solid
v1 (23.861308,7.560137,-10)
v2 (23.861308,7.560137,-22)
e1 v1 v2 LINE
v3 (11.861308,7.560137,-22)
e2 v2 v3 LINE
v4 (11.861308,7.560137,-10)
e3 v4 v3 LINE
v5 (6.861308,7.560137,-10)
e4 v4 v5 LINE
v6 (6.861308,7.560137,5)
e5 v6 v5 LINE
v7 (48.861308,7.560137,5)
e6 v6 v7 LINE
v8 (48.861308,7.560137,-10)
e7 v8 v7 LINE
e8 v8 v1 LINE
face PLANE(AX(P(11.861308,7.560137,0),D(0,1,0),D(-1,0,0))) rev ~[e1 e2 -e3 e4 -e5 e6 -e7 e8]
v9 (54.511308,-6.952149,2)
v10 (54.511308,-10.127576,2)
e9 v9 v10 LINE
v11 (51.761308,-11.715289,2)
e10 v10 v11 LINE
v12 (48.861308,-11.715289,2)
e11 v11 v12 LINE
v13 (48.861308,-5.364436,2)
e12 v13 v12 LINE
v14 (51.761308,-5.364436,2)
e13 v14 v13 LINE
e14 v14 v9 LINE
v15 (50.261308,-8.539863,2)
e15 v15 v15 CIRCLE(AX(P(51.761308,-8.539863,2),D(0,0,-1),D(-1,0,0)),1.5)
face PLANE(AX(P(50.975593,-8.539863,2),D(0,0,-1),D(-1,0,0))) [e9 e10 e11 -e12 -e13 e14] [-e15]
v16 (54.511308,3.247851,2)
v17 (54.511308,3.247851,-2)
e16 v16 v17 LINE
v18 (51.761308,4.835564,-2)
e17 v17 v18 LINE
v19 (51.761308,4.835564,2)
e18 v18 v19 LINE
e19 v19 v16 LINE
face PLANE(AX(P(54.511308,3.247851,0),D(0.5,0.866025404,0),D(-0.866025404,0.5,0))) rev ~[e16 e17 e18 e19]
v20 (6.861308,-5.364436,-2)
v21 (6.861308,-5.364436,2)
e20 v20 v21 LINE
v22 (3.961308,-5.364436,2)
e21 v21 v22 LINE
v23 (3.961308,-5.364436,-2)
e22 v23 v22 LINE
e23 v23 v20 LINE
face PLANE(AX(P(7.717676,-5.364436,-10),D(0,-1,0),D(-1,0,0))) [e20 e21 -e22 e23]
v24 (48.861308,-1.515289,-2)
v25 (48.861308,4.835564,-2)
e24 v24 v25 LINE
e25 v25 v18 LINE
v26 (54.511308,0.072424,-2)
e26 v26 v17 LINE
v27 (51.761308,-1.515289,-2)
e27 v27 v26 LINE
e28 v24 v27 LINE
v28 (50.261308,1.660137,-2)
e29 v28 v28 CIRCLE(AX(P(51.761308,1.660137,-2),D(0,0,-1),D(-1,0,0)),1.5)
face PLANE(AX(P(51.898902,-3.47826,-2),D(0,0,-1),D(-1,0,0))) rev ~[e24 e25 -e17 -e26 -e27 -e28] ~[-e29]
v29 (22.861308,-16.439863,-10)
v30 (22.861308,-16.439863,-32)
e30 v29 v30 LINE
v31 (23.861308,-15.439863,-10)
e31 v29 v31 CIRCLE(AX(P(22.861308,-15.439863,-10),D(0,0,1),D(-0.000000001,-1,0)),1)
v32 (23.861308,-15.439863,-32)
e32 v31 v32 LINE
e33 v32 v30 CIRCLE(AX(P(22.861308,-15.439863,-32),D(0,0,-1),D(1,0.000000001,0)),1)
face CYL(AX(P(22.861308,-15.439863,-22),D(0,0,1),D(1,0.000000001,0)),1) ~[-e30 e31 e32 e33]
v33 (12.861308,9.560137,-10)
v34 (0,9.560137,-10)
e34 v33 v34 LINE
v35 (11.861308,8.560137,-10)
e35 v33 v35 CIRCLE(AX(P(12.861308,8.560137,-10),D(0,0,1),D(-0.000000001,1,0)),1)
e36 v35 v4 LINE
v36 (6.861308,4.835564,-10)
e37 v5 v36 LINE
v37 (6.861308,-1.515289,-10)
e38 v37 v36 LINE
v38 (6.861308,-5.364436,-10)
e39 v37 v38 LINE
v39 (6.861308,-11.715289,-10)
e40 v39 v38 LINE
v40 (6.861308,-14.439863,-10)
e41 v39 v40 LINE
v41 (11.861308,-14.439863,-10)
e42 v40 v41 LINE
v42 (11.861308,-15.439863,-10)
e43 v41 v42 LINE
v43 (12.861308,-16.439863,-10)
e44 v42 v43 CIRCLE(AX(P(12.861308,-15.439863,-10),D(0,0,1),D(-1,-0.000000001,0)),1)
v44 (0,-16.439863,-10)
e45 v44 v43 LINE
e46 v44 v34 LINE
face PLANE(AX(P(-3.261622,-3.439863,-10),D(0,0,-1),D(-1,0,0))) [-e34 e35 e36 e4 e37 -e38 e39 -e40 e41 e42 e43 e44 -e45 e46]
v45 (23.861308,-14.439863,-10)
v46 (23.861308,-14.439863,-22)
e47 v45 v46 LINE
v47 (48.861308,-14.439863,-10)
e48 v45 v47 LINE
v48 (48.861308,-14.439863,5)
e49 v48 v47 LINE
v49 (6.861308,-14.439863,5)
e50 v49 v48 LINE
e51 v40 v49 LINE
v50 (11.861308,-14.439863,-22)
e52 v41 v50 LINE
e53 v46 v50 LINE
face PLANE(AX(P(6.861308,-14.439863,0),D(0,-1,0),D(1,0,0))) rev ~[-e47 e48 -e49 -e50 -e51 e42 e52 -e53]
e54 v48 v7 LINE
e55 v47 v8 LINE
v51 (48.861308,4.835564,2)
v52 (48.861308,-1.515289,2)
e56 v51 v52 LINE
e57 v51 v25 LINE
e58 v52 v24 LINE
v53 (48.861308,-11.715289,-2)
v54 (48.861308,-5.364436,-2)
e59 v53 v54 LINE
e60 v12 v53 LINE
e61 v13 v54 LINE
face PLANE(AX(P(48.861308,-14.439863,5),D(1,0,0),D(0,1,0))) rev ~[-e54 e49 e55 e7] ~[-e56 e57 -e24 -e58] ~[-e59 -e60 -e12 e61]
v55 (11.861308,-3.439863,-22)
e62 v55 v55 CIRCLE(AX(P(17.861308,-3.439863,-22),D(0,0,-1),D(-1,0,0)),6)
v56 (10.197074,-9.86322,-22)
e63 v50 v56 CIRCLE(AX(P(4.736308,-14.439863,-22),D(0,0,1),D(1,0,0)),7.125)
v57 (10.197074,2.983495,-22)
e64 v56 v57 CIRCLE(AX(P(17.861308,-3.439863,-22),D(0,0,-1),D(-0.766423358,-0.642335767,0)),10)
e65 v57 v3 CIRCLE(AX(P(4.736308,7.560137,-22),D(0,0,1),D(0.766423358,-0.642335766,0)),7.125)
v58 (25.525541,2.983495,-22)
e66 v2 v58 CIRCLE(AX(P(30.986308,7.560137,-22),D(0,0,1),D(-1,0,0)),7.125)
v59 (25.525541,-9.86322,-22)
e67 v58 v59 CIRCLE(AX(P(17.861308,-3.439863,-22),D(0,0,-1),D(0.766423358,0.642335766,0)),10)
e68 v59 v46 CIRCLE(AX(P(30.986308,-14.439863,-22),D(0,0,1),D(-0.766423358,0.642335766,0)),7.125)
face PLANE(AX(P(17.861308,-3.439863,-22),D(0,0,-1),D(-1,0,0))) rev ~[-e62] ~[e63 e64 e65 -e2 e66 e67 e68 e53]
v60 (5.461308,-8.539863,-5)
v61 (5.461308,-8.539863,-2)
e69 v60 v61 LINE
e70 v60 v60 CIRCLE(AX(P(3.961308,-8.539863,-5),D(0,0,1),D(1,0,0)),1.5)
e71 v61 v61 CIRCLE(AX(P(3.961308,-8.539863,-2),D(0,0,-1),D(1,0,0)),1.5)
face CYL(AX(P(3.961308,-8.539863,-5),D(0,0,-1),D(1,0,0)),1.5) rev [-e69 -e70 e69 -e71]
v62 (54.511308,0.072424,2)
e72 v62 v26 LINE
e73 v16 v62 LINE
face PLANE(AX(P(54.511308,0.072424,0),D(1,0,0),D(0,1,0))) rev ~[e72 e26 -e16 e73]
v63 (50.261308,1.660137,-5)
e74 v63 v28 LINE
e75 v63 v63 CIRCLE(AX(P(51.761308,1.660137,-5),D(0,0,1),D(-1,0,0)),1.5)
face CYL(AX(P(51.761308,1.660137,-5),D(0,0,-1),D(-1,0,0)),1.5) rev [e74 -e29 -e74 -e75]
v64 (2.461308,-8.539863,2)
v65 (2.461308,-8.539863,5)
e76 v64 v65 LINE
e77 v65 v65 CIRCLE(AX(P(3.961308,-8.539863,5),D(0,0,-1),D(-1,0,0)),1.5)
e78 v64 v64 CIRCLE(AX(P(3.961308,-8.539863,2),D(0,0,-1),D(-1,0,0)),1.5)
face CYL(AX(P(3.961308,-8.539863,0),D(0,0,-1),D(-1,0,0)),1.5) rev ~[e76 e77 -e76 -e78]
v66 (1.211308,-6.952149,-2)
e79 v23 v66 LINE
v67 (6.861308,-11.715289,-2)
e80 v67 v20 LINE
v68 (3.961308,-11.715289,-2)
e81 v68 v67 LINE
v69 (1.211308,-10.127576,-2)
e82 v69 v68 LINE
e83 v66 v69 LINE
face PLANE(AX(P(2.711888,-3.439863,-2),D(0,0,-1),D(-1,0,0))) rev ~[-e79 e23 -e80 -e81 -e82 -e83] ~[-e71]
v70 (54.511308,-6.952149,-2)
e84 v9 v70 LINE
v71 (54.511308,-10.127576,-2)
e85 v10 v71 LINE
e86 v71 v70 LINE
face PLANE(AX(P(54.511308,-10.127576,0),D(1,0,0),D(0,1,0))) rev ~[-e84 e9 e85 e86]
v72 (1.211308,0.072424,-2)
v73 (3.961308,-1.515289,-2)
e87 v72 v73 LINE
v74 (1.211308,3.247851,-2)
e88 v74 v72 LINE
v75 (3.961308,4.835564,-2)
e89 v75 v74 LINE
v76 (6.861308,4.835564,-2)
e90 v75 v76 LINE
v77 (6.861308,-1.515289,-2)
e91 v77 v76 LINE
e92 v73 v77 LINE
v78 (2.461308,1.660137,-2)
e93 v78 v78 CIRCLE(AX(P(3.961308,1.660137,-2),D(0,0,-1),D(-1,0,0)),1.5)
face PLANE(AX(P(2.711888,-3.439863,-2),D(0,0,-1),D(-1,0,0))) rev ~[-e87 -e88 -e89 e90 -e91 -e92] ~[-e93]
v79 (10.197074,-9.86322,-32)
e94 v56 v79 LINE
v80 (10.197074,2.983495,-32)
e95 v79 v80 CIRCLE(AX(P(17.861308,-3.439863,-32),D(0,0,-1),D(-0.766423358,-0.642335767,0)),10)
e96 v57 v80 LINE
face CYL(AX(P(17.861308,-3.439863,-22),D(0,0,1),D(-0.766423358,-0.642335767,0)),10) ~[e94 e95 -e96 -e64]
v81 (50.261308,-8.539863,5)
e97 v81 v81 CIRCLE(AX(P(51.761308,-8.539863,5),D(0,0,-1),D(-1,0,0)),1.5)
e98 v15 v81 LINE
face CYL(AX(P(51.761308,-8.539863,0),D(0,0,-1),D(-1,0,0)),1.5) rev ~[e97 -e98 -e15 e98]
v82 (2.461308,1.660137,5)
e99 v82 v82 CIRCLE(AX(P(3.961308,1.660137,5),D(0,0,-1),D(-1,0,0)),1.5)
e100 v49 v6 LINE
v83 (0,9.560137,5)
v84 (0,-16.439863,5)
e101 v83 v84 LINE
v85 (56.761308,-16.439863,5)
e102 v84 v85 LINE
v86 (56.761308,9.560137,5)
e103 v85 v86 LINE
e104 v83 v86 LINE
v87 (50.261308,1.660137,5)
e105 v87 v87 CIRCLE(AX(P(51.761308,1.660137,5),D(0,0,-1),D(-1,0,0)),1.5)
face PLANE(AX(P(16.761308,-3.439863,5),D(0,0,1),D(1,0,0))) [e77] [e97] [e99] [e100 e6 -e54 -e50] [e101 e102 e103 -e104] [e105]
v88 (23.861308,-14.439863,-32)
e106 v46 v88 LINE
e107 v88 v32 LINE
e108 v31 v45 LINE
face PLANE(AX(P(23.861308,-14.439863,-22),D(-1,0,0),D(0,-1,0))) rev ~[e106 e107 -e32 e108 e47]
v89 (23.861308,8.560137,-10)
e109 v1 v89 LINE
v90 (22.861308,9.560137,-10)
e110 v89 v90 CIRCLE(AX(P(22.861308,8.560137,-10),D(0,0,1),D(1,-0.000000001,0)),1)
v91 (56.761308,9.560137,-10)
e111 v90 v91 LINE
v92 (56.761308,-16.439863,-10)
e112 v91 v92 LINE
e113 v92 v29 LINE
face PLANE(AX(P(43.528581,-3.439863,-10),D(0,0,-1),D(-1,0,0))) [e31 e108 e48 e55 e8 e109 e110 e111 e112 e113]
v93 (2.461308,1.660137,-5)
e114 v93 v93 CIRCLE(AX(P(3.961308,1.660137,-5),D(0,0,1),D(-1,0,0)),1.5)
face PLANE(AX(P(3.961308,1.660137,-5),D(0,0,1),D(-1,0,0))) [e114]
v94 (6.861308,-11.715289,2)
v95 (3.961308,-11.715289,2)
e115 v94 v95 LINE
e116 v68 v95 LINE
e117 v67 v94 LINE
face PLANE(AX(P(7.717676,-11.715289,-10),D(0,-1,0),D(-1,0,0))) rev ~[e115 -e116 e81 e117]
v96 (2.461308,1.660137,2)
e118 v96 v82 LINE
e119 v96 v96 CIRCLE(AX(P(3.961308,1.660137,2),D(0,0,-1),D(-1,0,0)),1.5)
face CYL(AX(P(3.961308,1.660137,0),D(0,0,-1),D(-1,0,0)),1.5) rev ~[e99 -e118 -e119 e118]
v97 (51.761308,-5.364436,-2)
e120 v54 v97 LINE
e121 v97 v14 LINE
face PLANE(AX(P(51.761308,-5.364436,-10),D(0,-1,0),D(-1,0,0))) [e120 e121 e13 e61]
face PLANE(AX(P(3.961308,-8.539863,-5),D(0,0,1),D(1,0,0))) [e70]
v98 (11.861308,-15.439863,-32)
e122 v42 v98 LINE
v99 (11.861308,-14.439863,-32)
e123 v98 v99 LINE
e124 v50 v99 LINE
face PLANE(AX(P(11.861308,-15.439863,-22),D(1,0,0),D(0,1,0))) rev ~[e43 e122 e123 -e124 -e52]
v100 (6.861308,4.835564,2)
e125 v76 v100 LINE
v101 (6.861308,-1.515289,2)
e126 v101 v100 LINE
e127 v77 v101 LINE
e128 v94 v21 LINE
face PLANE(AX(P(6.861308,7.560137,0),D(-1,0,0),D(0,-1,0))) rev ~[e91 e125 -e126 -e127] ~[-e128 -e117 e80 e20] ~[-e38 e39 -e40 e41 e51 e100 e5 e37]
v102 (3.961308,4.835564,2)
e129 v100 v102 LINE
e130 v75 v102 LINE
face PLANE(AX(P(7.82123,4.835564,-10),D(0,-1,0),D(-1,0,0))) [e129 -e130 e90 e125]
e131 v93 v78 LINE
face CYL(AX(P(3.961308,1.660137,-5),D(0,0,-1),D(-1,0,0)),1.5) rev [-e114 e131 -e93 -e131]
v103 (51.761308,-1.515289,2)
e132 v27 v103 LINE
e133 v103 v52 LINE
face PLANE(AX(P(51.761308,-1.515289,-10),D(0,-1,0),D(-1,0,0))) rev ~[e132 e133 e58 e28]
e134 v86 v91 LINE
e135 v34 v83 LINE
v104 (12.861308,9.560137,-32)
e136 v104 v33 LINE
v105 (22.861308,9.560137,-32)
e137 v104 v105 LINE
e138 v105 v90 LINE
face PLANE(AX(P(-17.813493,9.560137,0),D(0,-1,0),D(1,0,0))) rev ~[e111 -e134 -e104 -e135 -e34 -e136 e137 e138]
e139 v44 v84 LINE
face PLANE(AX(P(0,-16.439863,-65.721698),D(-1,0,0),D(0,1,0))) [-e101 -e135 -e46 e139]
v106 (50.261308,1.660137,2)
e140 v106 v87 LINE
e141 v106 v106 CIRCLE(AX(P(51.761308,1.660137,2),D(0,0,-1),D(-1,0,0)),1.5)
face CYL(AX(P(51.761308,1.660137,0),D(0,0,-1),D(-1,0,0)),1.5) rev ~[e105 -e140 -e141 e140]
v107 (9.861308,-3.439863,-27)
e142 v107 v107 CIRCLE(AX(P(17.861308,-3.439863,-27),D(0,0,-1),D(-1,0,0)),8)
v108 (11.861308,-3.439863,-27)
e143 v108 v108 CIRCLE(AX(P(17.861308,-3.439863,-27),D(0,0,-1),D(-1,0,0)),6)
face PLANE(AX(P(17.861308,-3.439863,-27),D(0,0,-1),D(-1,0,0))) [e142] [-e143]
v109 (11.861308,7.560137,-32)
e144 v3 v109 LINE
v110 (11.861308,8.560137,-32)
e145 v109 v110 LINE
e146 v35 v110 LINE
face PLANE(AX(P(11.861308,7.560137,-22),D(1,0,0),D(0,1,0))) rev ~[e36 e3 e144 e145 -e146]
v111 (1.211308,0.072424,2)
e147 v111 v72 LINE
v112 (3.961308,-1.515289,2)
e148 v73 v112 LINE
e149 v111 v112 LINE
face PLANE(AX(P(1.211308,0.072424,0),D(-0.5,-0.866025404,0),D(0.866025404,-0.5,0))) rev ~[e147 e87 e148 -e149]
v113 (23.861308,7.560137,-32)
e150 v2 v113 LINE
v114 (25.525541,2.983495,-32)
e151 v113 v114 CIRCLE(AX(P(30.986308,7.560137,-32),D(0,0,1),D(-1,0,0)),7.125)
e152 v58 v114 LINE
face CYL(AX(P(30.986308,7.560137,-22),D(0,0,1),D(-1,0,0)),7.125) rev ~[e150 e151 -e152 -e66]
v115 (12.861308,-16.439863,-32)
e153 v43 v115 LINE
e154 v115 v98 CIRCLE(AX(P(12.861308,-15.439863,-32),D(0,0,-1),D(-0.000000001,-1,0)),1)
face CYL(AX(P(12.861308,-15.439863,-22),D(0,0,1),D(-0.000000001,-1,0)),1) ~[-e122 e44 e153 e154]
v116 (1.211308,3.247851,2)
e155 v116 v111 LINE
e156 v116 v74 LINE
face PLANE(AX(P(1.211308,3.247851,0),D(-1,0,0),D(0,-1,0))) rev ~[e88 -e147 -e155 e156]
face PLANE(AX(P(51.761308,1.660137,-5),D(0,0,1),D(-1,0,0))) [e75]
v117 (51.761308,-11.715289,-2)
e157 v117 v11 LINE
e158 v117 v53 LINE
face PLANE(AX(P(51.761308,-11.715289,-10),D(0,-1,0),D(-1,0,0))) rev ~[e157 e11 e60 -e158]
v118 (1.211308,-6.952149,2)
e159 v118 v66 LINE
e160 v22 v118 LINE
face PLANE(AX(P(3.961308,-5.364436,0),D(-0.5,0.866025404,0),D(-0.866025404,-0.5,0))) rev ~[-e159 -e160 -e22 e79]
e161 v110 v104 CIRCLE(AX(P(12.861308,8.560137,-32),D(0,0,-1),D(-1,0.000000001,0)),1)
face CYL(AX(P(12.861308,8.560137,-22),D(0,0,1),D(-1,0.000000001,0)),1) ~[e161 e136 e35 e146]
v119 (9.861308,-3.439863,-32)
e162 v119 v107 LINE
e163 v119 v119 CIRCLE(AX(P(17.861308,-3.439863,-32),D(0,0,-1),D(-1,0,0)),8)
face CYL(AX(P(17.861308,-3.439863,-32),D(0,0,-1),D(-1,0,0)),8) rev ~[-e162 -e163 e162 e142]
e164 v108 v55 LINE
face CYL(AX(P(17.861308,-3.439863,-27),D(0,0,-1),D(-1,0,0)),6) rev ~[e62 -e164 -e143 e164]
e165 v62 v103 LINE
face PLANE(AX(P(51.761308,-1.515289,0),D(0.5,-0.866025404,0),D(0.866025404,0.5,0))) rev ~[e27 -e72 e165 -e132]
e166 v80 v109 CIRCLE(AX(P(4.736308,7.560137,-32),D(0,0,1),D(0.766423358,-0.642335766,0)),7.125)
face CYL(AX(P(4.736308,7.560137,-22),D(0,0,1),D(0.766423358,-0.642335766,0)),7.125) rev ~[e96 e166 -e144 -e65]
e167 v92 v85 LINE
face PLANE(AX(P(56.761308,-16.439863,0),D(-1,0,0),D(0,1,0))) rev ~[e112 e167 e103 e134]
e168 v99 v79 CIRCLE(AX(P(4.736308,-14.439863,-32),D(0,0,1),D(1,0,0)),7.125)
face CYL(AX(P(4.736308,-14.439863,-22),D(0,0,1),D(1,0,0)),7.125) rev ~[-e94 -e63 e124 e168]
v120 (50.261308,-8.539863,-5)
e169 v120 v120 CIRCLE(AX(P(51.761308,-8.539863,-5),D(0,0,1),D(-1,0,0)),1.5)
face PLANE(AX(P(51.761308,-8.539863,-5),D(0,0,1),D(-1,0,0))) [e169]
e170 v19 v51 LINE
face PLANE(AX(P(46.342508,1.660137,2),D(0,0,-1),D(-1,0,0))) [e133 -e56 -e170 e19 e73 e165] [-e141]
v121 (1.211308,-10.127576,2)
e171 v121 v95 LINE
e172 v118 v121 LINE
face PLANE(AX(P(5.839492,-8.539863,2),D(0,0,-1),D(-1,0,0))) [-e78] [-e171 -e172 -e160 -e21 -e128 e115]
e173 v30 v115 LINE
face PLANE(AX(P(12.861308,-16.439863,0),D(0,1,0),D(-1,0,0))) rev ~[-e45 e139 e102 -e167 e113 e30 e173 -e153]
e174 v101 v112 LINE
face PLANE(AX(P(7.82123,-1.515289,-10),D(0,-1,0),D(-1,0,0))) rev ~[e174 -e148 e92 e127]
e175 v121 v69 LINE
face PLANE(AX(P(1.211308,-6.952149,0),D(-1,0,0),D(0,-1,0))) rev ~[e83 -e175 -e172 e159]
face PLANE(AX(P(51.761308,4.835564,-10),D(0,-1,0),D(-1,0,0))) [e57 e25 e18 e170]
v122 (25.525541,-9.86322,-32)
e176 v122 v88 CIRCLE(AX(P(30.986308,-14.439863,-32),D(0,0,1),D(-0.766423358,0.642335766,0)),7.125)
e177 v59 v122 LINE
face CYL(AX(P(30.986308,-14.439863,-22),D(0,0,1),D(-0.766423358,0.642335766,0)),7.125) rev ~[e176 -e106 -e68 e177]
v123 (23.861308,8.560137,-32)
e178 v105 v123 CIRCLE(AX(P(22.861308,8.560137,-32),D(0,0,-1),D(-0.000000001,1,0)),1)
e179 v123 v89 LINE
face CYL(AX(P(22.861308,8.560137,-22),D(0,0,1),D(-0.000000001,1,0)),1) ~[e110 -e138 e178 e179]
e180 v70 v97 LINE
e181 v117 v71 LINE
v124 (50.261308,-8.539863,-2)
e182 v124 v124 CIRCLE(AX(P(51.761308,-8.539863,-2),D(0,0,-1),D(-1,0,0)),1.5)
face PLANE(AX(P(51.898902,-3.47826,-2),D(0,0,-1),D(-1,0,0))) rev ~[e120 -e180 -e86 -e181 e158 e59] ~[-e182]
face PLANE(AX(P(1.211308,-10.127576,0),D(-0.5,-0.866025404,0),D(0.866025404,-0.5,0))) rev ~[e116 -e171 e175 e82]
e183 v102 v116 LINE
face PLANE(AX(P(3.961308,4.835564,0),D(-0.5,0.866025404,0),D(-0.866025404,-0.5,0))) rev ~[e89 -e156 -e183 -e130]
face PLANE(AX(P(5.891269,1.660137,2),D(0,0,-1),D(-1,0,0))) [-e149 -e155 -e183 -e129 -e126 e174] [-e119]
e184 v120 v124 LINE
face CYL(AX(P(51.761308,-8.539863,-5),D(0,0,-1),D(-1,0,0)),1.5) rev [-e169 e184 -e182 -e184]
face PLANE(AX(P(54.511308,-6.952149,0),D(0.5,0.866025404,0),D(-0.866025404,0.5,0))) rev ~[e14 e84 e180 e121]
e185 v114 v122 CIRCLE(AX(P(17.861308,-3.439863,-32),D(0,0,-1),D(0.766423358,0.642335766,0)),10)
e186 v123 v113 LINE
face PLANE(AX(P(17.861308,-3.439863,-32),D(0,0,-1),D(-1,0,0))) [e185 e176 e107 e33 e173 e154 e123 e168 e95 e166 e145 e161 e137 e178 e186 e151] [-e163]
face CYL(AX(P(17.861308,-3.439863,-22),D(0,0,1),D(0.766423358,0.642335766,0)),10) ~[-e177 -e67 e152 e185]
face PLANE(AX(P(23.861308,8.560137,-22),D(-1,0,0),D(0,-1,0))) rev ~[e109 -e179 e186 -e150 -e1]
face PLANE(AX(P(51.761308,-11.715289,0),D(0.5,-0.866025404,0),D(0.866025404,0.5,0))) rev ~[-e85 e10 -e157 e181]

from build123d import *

# Parameters (mm, degrees)
ESQUISSE1_W                   = 80
ESQUISSE1_H                   = 26
BOSS_EXTRU_1_DEPTH            = 5
ESQUISSE4_W                   = 15
ESQUISSE4_H                   = 21
BOSS_EXTRU_2_DEPTH            = 23
ESQUISSE6_R                   = 1.9
ENL_V_MAT_EXTRU_1_DEPTH       = 23
ESQUISSE7_R                   = 2.5
ENL_V_MAT_EXTRU_2_DEPTH       = 33
ESQUISSE8_W                   = 23.844388633
ESQUISSE8_H                   = 15
ENL_V_MAT_EXTRU_3_DEPTH       = 20
ENL_V_MAT_EXTRU_4_DEPTH       = 20
ENL_V_MAT_EXTRU_5_DEPTH       = 25
ENL_V_MAT_EXTRU_7_DEPTH       = 25
ENL_V_MAT_EXTRU_8_DEPTH       = 1
BOSS_EXTRU_3_DEPTH            = 2
ESQUISSE15_R                  = 1.5
ENL_V_MAT_EXTRU_9_DEPTH       = 19
ESQUISSE17_W                  = 42
ESQUISSE17_H                  = 22
ENL_V_MAT_EXTRU_11_DEPTH      = 19
ENL_V_MAT_EXTRU_12_DEPTH      = 2
BOSS_EXTRU_4_DEPTH            = 22
BOSS_EXTRU_5_DEPTH            = 10
ESQUISSE25_R                  = 8
ENL_V_MAT_EXTRU_13_DEPTH      = 5
ESQUISSE26_R                  = 6
ENL_V_MAT_EXTRU_14_DEPTH      = 5
BOSS_EXTRU_7_DEPTH            = 10
ESQUISSE35_W                  = 3.859922035
ESQUISSE35_H                  = 6.350852961
ESQUISSE35_W_2                = 3.756368621
ESQUISSE35_W_3                = 10.8376001
ESQUISSE35_W_4                = 8.369035633
ENL_V_MAT_EXTRU_17_DEPTH      = 12
ESQUISSE37_W                  = 8.298839711
ESQUISSE37_H                  = 26
BOSS_EXTRU_8_DEPTH            = 8
BOSS_EXTRU_9_DEPTH            = 21
ENL_V_START                   = -10
ESQUISSE42_R                  = 1.5
ENL_V_MAT_EXTRU_18_DEPTH      = 10
ENL_V_MAT_EXTRU_19_DEPTH      = 70.721697714
ENL_V_MAT_EXTRU_19_DEPTH_BACK = 70.721697714
ESQUISSE43_W                  = 41.770498162
ESQUISSE43_H                  = 26


with BuildPart() as part:
    # Esquisse1 → Boss.-Extru.1 (new body)
    with BuildSketch(Plane.XY):
        with Locations((16.761307699, -3.439862543)):
            Rectangle(ESQUISSE1_W, ESQUISSE1_H)
    extrude(amount=BOSS_EXTRU_1_DEPTH)

    # Esquisse4 → Boss.-Extru.2 (add)
    with BuildSketch(Plane(origin=(0, 0, 0), x_dir=(-1, 0, 0), z_dir=(0, 0, -1))):
        with Locations((30.738692301, -3.439862543)):
            Rectangle(ESQUISSE4_W, ESQUISSE4_H)
    extrude(amount=-BOSS_EXTRU_2_DEPTH)

    # Esquisse6 → Enlèv. mat.-Extru.1 (cut)
    with BuildSketch(Plane.XZ.offset(13.939862543)):
        with Locations((-28.738692301, 5)):
            Circle(ESQUISSE6_R)
    extrude(amount=-ENL_V_MAT_EXTRU_1_DEPTH, mode=Mode.SUBTRACT)

    # Esquisse7 → Enlèv. mat.-Extru.2 (cut)
    with BuildSketch(Plane.XY.offset(23)):
        with Locations((-33.238692301, -3.439862543)):
            Circle(ESQUISSE7_R)
    extrude(amount=-ENL_V_MAT_EXTRU_2_DEPTH, mode=Mode.SUBTRACT)

    # Esquisse8 → Enlèv. mat.-Extru.3 (cut)
    with BuildSketch(Plane(origin=(0, 0, 0), x_dir=(-1, 0, 0), z_dir=(0, 0, -1))):
        with Locations((38.160886617, -3.439862543)):
            Rectangle(ESQUISSE8_W, ESQUISSE8_H)
    extrude(amount=-ENL_V_MAT_EXTRU_3_DEPTH, mode=Mode.SUBTRACT)

    # Esquisse9 → Enlèv. mat.-Extru.4 (cut)
    with BuildSketch(Plane(origin=(0, 0, 0), x_dir=(-1, 0, 0), z_dir=(0, 0, -1))):
        with BuildLine():
            Line((23.238692301, 7.060137457), (23.238692301, 9.560137457))
            Line((23.238692301, 9.560137457), (17.813492819, 9.560137457))
            ThreePointArc((17.813492819, 9.560137457), (20.800246467, 8.905073311), (23.238692301, 7.060137457))
        make_face()
        with BuildLine():
            Line((17.813492819, -16.439862543), (23.238692301, -16.439862543))
            Line((23.238692301, -16.439862543), (23.238692301, -13.939862543))
            ThreePointArc((23.238692301, -13.939862543), (20.800246467, -15.784798397), (17.813492819, -16.439862543))
        make_face()
    extrude(amount=-ENL_V_MAT_EXTRU_4_DEPTH, mode=Mode.SUBTRACT)

    # Esquisse10 → Enlèv. mat.-Extru.5 (cut)
    with BuildSketch(Plane.XZ.offset(13.939862543)):
        with BuildLine():
            Line((-23.238692301, 21.5), (-23.238692301, 23))
            Line((-23.238692301, 23), (-24.738692301, 23))
            ThreePointArc((-24.738692301, 23), (-23.678032129, 22.560660172), (-23.238692301, 21.5))
        make_face()
    extrude(amount=-ENL_V_MAT_EXTRU_5_DEPTH, mode=Mode.SUBTRACT)

    # Esquisse12 → Enlèv. mat.-Extru.7 (cut)
    with BuildSketch(Plane.XZ.offset(13.939862543)):
        with BuildLine():
            Line((-38.238692301, 23), (-36.738692301, 23))
            ThreePointArc((-36.738692301, 23), (-37.799352472, 22.560660172), (-38.238692301, 21.5))
            Line((-38.238692301, 21.5), (-38.238692301, 23))
        make_face()
    extrude(amount=-ENL_V_MAT_EXTRU_7_DEPTH, mode=Mode.SUBTRACT)

    # Esquisse13 → Enlèv. mat.-Extru.8 (cut)
    with BuildSketch(Plane(origin=(0, 7.060137457, 0), x_dir=(1, 0, 0), z_dir=(0, 1, 0))):
        Polygon((-30.759418243, -1.5), (-32.780144185, -5), (-30.759418243, -8.5), (-26.717966358, -8.5), (-24.697240416, -5), (-26.717966358, -1.5), align=None)
    extrude(amount=-ENL_V_MAT_EXTRU_8_DEPTH, mode=Mode.SUBTRACT)

    # Esquisse14 → Boss.-Extru.3 (add)
    with BuildSketch(Plane(origin=(0, 7.060137457, 0), x_dir=(1, 0, 0), z_dir=(0, 1, 0))):
        Polygon((-25.851940955, 0), (-31.625443646, 0), (-34.512194992, -5), (-31.625443646, -10), (-25.851940955, -10), (-23.238692301, -5.473720558), (-23.238692301, -4.526279442), align=None)
        Polygon((-30.759418243, -1.5), (-32.780144185, -5), (-30.759418243, -8.5), (-26.717966358, -8.5), (-24.697240416, -5), (-26.717966358, -1.5), align=None, mode=Mode.SUBTRACT)
    extrude(amount=BOSS_EXTRU_3_DEPTH)

    # Esquisse15 → Enlèv. mat.-Extru.9 (cut)
    with BuildSketch(Plane(origin=(0, 0, 0), x_dir=(-1, 0, 0), z_dir=(0, 0, -1))):
        with Locations((-51.761307699, -8.539862543)):
            Circle(ESQUISSE15_R)
        with Locations((-51.761307699, 1.660137457)):
            Circle(ESQUISSE15_R)
        with Locations((-3.961307699, -8.539862543)):
            Circle(ESQUISSE15_R)
        with Locations((-3.961307699, 1.660137457)):
            Circle(ESQUISSE15_R)
    extrude(amount=-ENL_V_MAT_EXTRU_9_DEPTH, mode=Mode.SUBTRACT)

    # Esquisse17 → Enlèv. mat.-Extru.11 (cut)
    with BuildSketch(Plane.XY.offset(5)):
        with Locations((27.861307699, -3.439862543)):
            Rectangle(ESQUISSE17_W, ESQUISSE17_H)
    extrude(amount=-ENL_V_MAT_EXTRU_11_DEPTH, mode=Mode.SUBTRACT)

    # Esquisse18 → Enlèv. mat.-Extru.12 (cut)
    with BuildSketch(Plane(origin=(0, 0, 0), x_dir=(-1, 0, 0), z_dir=(0, 0, -1))):
        Polygon((-49.011307699, 3.247850697), (-51.761307699, 4.835563938), (-54.511307699, 3.247850697), (-54.511307699, 0.072424217), (-51.761307699, -1.515289023), (-49.011307699, 0.072424217), (-46.261307699, 1.660137457), align=None)
        Polygon((-49.011307699, -6.952149303), (-51.761307699, -5.364436062), (-54.511307699, -6.952149303), (-54.511307699, -10.127575783), (-51.761307699, -11.715289023), (-49.011307699, -10.127575783), (-46.261307699, -8.539862543), align=None)
        Polygon((-6.711307699, 0.072424217), (-9.461307699, 1.660137457), (-6.711307699, 3.247850697), (-3.961307699, 4.835563938), (-1.211307699, 3.247850697), (-1.211307699, 0.072424217), (-3.961307699, -1.515289023), align=None)
        Polygon((-9.461307699, -8.539862543), (-6.711307699, -6.952149303), (-3.961307699, -5.364436062), (-1.211307699, -6.952149303), (-1.211307699, -10.127575783), (-3.961307699, -11.715289023), (-6.711307699, -10.127575783), align=None)
    extrude(amount=-ENL_V_MAT_EXTRU_12_DEPTH, mode=Mode.SUBTRACT)

    # Esquisse19 → Boss.-Extru.4 (add)
    with BuildSketch(Plane(origin=(0, 0, 0), x_dir=(-1, 0, 0), z_dir=(0, 0, -1))):
        with BuildLine():
            Line((-12.861307699, -16.439862543), (-22.861307699, -16.439862543))
            ThreePointArc((-22.861307699, -16.439862543), (-23.568414481, -16.146969324), (-23.861307699, -15.439862543))
            Line((-23.861307699, -15.439862543), (-23.861307699, -14.439862543))
            Line((-23.861307699, -14.439862543), (-11.861307699, -14.439862543))
            Line((-11.861307699, -14.439862543), (-11.861307699, -15.439862543))
            ThreePointArc((-11.861307699, -15.439862543), (-12.154200918, -16.146969324), (-12.861307699, -16.439862543))
        make_face()
        with BuildLine():
            Line((-23.861307699, 8.560137457), (-23.861307699, 7.560137457))
            Line((-23.861307699, 7.560137457), (-11.861307699, 7.560137457))
            Line((-11.861307699, 7.560137457), (-11.861307699, 8.560137457))
            ThreePointArc((-11.861307699, 8.560137457), (-12.154200918, 9.267244238), (-12.861307699, 9.560137457))
            Line((-12.861307699, 9.560137457), (-22.861307699, 9.560137457))
            ThreePointArc((-22.861307699, 9.560137457), (-23.568414481, 9.267244238), (-23.861307699, 8.560137457))
        make_face()
    extrude(amount=BOSS_EXTRU_4_DEPTH)

    # Esquisse23 → Boss.-Extru.5 (add)
    with BuildSketch(Plane(origin=(0, 0, -22), x_dir=(-1, 0, 0), z_dir=(0, 0, -1))):
        with BuildLine():
            Line((-23.861307699, 8.560137457), (-23.861307699, 7.560137457))
            ThreePointArc((-23.861307699, 7.560137457), (-24.290279557, 5.125218133), (-25.525541276, 2.983495121))
            ThreePointArc((-25.525541276, 2.983495121), (-27.861307699, -3.439862543), (-25.525541276, -9.863220207))
            ThreePointArc((-25.525541276, -9.863220207), (-24.290279557, -12.004943218), (-23.861307699, -14.439862543))
            Line((-23.861307699, -14.439862543), (-23.861307699, -15.439862543))
            ThreePointArc((-23.861307699, -15.439862543), (-23.568414481, -16.146969324), (-22.861307699, -16.439862543))
            Line((-22.861307699, -16.439862543), (-12.861307699, -16.439862543))
            ThreePointArc((-12.861307699, -16.439862543), (-12.154200918, -16.146969324), (-11.861307699, -15.439862543))
            Line((-11.861307699, -15.439862543), (-11.861307699, -14.439862543))
            ThreePointArc((-11.861307699, -14.439862543), (-11.432335842, -12.004943218), (-10.197074123, -9.863220207))
            ThreePointArc((-10.197074123, -9.863220207), (-7.861307699, -3.439862543), (-10.197074123, 2.983495121))
            ThreePointArc((-10.197074123, 2.983495121), (-11.432335842, 5.125218133), (-11.861307699, 7.560137457))
            Line((-11.861307699, 7.560137457), (-11.861307699, 8.560137457))
            ThreePointArc((-11.861307699, 8.560137457), (-12.154200918, 9.267244238), (-12.861307699, 9.560137457))
            Line((-12.861307699, 9.560137457), (-22.861307699, 9.560137457))
            ThreePointArc((-22.861307699, 9.560137457), (-23.568414481, 9.267244238), (-23.861307699, 8.560137457))
        make_face()
    extrude(amount=BOSS_EXTRU_5_DEPTH)

    # Esquisse25 → Enlèv. mat.-Extru.13 (cut)
    with BuildSketch(Plane(origin=(0, 0, -32), x_dir=(-1, 0, 0), z_dir=(0, 0, -1))):
        with Locations((-17.861307699, -3.439862543)):
            Circle(ESQUISSE25_R)
    extrude(amount=-ENL_V_MAT_EXTRU_13_DEPTH, mode=Mode.SUBTRACT)

    # Esquisse26 → Enlèv. mat.-Extru.14 (cut)
    with BuildSketch(Plane(origin=(0, 0, -27), x_dir=(-1, 0, 0), z_dir=(0, 0, -1))):
        with Locations((-17.861307699, -3.439862543)):
            Circle(ESQUISSE26_R)
    extrude(amount=-ENL_V_MAT_EXTRU_14_DEPTH, mode=Mode.SUBTRACT)

    # Esquisse33 → Boss.-Extru.7 (add)
    with BuildSketch(Plane(origin=(0, 0, 0), x_dir=(-1, 0, 0), z_dir=(0, 0, -1))):
        with BuildLine():
            Line((23.238692301, -13.939862543), (23.238692301, 7.060137457))
            ThreePointArc((23.238692301, 7.060137457), (20.800246467, 8.905073311), (17.813492819, 9.560137457))
            Line((17.813492819, 9.560137457), (-12.861307699, 9.560137457))
            ThreePointArc((-12.861307699, 9.560137457), (-12.154200918, 9.267244238), (-11.861307699, 8.560137457))
            Line((-11.861307699, 8.560137457), (-11.861307699, 7.560137457))
            Line((-11.861307699, 7.560137457), (-6.861307699, 7.560137457))
            Line((-6.861307699, 7.560137457), (-6.861307699, 3.161248157))
            Line((-6.861307699, 3.161248157), (-3.961307699, 4.835563938))
            Line((-3.961307699, 4.835563938), (-1.211307699, 3.247850697))
            Line((-1.211307699, 3.247850697), (-1.211307699, 0.072424217))
            Line((-1.211307699, 0.072424217), (-3.961307699, -1.515289023))
            Line((-3.961307699, -1.515289023), (-6.861307699, 0.159026757))
            Line((-6.861307699, 0.159026757), (-6.861307699, -7.038751843))
            Line((-6.861307699, -7.038751843), (-3.961307699, -5.364436062))
            Line((-3.961307699, -5.364436062), (-1.211307699, -6.952149303))
            Line((-1.211307699, -6.952149303), (-1.211307699, -10.127575783))
            Line((-1.211307699, -10.127575783), (-3.961307699, -11.715289023))
            Line((-3.961307699, -11.715289023), (-6.861307699, -10.040973243))
            Line((-6.861307699, -10.040973243), (-6.861307699, -14.439862543))
            Line((-6.861307699, -14.439862543), (-11.861307699, -14.439862543))
            Line((-11.861307699, -14.439862543), (-11.861307699, -15.439862543))
            ThreePointArc((-11.861307699, -15.439862543), (-12.154200918, -16.146969324), (-12.861307699, -16.439862543))
            Line((-12.861307699, -16.439862543), (17.813492819, -16.439862543))
            ThreePointArc((17.813492819, -16.439862543), (20.800246467, -15.784798397), (23.238692301, -13.939862543))
        make_face()
        with BuildLine():
            Line((-56.761307699, -16.439862543), (-22.861307699, -16.439862543))
            ThreePointArc((-22.861307699, -16.439862543), (-23.568414481, -16.146969324), (-23.861307699, -15.439862543))
            Line((-23.861307699, -15.439862543), (-23.861307699, -14.439862543))
            Line((-23.861307699, -14.439862543), (-48.861307699, -14.439862543))
            Line((-48.861307699, -14.439862543), (-48.861307699, -10.040973243))
            Line((-48.861307699, -10.040973243), (-51.761307699, -11.715289023))
            Line((-51.761307699, -11.715289023), (-54.511307699, -10.127575783))
            Line((-54.511307699, -10.127575783), (-54.511307699, -6.952149303))
            Line((-54.511307699, -6.952149303), (-51.761307699, -5.364436062))
            Line((-51.761307699, -5.364436062), (-48.861307699, -7.038751843))
            Line((-48.861307699, -7.038751843), (-48.861307699, 0.159026757))
            Line((-48.861307699, 0.159026757), (-51.761307699, -1.515289023))
            Line((-51.761307699, -1.515289023), (-54.511307699, 0.072424217))
            Line((-54.511307699, 0.072424217), (-54.511307699, 3.247850697))
            Line((-54.511307699, 3.247850697), (-51.761307699, 4.835563938))
            Line((-51.761307699, 4.835563938), (-48.861307699, 3.161248157))
            Line((-48.861307699, 3.161248157), (-48.861307699, 7.560137457))
            Line((-48.861307699, 7.560137457), (-23.861307699, 7.560137457))
            Line((-23.861307699, 7.560137457), (-23.861307699, 8.560137457))
            ThreePointArc((-23.861307699, 8.560137457), (-23.568414481, 9.267244238), (-22.861307699, 9.560137457))
            Line((-22.861307699, 9.560137457), (-56.761307699, 9.560137457))
            Line((-56.761307699, 9.560137457), (-56.761307699, -16.439862543))
        make_face()
    extrude(amount=BOSS_EXTRU_7_DEPTH)

    # Esquisse35 → Enlèv. mat.-Extru.17 (cut)
    with BuildSketch(Plane(origin=(0, 0, -10), x_dir=(-1, 0, 0), z_dir=(0, 0, -1))):
        with Locations((-5.891268716, 1.660137457)):
            Rectangle(ESQUISSE35_W, ESQUISSE35_H)
        with Locations((-5.83949201, -8.539862542)):
            Rectangle(ESQUISSE35_W_2, ESQUISSE35_H)
        with Locations((-46.342507649, 1.660137457)):
            Rectangle(ESQUISSE35_W_3, ESQUISSE35_H)
        with Locations((-47.576789883, -8.539862542)):
            Rectangle(ESQUISSE35_W_4, ESQUISSE35_H)
    extrude(amount=-ENL_V_MAT_EXTRU_17_DEPTH, mode=Mode.SUBTRACT)

    # Esquisse37 → Boss.-Extru.8 (add)
    with BuildSketch(Plane(origin=(0, 0, -10), x_dir=(-1, 0, 0), z_dir=(0, 0, -1))):
        Polygon((-55.51948102, 1.423088184), (-55.51948102, -7.920901253), (-55.066451899, -9.932075987), (-53.340761864, -11.715289023), (-48.861307699, -11.715289023), (-48.861307699, 4.835563938), (-52.662543063, 4.835563938), (-54.892065561, 3.297290773), align=None)
        with Locations((-2.711887844, -3.439862543)):
            Rectangle(ESQUISSE37_W, ESQUISSE37_H)
    extrude(amount=-BOSS_EXTRU_8_DEPTH)

    # Esquisse38 → Boss.-Extru.9 (add)
    with BuildSketch(Plane.XZ.offset(13.939862543)):
        with BuildLine():
            Line((-23.238692301, 21.5), (-23.238692301, 5))
            Line((-23.238692301, 5), (-6.738692301, 5))
            ThreePointArc((-6.738692301, 5), (-18.40595419, 9.83273811), (-23.238692301, 21.5))
        make_face()
    extrude(amount=-BOSS_EXTRU_9_DEPTH)

    # Esquisse42 → Enlèv. mat.-Extru.18 (cut)
    with BuildSketch(Plane.XY.offset(5).offset(ENL_V_START)):
        with Locations(Location((3.961307699, 1.660137457, 0), (0, 0, 180))):
            Circle(ESQUISSE42_R)
        with Locations((3.961307699, -8.539862543)):
            Circle(ESQUISSE42_R)
        with Locations(Location((51.761307699, 1.660137457, 0), (0, 0, 180))):
            Circle(ESQUISSE42_R)
        with Locations(Location((51.761307699, -8.539862543, 0), (0, 0, 180))):
            Circle(ESQUISSE42_R)
    extrude(amount=ENL_V_MAT_EXTRU_18_DEPTH, mode=Mode.SUBTRACT)

    # Esquisse43 → Enlèv. mat.-Extru.19 (cut, two sides: drawn at the far end of the back side and taken through both)
    with BuildSketch(Plane.XY.offset(5).offset(-ENL_V_MAT_EXTRU_19_DEPTH_BACK)):
        with Locations((-20.885249081, -3.439862543)):
            Rectangle(ESQUISSE43_W, ESQUISSE43_H)
    extrude(amount=ENL_V_MAT_EXTRU_19_DEPTH + ENL_V_MAT_EXTRU_19_DEPTH_BACK, mode=Mode.SUBTRACT)


solid = part.part
